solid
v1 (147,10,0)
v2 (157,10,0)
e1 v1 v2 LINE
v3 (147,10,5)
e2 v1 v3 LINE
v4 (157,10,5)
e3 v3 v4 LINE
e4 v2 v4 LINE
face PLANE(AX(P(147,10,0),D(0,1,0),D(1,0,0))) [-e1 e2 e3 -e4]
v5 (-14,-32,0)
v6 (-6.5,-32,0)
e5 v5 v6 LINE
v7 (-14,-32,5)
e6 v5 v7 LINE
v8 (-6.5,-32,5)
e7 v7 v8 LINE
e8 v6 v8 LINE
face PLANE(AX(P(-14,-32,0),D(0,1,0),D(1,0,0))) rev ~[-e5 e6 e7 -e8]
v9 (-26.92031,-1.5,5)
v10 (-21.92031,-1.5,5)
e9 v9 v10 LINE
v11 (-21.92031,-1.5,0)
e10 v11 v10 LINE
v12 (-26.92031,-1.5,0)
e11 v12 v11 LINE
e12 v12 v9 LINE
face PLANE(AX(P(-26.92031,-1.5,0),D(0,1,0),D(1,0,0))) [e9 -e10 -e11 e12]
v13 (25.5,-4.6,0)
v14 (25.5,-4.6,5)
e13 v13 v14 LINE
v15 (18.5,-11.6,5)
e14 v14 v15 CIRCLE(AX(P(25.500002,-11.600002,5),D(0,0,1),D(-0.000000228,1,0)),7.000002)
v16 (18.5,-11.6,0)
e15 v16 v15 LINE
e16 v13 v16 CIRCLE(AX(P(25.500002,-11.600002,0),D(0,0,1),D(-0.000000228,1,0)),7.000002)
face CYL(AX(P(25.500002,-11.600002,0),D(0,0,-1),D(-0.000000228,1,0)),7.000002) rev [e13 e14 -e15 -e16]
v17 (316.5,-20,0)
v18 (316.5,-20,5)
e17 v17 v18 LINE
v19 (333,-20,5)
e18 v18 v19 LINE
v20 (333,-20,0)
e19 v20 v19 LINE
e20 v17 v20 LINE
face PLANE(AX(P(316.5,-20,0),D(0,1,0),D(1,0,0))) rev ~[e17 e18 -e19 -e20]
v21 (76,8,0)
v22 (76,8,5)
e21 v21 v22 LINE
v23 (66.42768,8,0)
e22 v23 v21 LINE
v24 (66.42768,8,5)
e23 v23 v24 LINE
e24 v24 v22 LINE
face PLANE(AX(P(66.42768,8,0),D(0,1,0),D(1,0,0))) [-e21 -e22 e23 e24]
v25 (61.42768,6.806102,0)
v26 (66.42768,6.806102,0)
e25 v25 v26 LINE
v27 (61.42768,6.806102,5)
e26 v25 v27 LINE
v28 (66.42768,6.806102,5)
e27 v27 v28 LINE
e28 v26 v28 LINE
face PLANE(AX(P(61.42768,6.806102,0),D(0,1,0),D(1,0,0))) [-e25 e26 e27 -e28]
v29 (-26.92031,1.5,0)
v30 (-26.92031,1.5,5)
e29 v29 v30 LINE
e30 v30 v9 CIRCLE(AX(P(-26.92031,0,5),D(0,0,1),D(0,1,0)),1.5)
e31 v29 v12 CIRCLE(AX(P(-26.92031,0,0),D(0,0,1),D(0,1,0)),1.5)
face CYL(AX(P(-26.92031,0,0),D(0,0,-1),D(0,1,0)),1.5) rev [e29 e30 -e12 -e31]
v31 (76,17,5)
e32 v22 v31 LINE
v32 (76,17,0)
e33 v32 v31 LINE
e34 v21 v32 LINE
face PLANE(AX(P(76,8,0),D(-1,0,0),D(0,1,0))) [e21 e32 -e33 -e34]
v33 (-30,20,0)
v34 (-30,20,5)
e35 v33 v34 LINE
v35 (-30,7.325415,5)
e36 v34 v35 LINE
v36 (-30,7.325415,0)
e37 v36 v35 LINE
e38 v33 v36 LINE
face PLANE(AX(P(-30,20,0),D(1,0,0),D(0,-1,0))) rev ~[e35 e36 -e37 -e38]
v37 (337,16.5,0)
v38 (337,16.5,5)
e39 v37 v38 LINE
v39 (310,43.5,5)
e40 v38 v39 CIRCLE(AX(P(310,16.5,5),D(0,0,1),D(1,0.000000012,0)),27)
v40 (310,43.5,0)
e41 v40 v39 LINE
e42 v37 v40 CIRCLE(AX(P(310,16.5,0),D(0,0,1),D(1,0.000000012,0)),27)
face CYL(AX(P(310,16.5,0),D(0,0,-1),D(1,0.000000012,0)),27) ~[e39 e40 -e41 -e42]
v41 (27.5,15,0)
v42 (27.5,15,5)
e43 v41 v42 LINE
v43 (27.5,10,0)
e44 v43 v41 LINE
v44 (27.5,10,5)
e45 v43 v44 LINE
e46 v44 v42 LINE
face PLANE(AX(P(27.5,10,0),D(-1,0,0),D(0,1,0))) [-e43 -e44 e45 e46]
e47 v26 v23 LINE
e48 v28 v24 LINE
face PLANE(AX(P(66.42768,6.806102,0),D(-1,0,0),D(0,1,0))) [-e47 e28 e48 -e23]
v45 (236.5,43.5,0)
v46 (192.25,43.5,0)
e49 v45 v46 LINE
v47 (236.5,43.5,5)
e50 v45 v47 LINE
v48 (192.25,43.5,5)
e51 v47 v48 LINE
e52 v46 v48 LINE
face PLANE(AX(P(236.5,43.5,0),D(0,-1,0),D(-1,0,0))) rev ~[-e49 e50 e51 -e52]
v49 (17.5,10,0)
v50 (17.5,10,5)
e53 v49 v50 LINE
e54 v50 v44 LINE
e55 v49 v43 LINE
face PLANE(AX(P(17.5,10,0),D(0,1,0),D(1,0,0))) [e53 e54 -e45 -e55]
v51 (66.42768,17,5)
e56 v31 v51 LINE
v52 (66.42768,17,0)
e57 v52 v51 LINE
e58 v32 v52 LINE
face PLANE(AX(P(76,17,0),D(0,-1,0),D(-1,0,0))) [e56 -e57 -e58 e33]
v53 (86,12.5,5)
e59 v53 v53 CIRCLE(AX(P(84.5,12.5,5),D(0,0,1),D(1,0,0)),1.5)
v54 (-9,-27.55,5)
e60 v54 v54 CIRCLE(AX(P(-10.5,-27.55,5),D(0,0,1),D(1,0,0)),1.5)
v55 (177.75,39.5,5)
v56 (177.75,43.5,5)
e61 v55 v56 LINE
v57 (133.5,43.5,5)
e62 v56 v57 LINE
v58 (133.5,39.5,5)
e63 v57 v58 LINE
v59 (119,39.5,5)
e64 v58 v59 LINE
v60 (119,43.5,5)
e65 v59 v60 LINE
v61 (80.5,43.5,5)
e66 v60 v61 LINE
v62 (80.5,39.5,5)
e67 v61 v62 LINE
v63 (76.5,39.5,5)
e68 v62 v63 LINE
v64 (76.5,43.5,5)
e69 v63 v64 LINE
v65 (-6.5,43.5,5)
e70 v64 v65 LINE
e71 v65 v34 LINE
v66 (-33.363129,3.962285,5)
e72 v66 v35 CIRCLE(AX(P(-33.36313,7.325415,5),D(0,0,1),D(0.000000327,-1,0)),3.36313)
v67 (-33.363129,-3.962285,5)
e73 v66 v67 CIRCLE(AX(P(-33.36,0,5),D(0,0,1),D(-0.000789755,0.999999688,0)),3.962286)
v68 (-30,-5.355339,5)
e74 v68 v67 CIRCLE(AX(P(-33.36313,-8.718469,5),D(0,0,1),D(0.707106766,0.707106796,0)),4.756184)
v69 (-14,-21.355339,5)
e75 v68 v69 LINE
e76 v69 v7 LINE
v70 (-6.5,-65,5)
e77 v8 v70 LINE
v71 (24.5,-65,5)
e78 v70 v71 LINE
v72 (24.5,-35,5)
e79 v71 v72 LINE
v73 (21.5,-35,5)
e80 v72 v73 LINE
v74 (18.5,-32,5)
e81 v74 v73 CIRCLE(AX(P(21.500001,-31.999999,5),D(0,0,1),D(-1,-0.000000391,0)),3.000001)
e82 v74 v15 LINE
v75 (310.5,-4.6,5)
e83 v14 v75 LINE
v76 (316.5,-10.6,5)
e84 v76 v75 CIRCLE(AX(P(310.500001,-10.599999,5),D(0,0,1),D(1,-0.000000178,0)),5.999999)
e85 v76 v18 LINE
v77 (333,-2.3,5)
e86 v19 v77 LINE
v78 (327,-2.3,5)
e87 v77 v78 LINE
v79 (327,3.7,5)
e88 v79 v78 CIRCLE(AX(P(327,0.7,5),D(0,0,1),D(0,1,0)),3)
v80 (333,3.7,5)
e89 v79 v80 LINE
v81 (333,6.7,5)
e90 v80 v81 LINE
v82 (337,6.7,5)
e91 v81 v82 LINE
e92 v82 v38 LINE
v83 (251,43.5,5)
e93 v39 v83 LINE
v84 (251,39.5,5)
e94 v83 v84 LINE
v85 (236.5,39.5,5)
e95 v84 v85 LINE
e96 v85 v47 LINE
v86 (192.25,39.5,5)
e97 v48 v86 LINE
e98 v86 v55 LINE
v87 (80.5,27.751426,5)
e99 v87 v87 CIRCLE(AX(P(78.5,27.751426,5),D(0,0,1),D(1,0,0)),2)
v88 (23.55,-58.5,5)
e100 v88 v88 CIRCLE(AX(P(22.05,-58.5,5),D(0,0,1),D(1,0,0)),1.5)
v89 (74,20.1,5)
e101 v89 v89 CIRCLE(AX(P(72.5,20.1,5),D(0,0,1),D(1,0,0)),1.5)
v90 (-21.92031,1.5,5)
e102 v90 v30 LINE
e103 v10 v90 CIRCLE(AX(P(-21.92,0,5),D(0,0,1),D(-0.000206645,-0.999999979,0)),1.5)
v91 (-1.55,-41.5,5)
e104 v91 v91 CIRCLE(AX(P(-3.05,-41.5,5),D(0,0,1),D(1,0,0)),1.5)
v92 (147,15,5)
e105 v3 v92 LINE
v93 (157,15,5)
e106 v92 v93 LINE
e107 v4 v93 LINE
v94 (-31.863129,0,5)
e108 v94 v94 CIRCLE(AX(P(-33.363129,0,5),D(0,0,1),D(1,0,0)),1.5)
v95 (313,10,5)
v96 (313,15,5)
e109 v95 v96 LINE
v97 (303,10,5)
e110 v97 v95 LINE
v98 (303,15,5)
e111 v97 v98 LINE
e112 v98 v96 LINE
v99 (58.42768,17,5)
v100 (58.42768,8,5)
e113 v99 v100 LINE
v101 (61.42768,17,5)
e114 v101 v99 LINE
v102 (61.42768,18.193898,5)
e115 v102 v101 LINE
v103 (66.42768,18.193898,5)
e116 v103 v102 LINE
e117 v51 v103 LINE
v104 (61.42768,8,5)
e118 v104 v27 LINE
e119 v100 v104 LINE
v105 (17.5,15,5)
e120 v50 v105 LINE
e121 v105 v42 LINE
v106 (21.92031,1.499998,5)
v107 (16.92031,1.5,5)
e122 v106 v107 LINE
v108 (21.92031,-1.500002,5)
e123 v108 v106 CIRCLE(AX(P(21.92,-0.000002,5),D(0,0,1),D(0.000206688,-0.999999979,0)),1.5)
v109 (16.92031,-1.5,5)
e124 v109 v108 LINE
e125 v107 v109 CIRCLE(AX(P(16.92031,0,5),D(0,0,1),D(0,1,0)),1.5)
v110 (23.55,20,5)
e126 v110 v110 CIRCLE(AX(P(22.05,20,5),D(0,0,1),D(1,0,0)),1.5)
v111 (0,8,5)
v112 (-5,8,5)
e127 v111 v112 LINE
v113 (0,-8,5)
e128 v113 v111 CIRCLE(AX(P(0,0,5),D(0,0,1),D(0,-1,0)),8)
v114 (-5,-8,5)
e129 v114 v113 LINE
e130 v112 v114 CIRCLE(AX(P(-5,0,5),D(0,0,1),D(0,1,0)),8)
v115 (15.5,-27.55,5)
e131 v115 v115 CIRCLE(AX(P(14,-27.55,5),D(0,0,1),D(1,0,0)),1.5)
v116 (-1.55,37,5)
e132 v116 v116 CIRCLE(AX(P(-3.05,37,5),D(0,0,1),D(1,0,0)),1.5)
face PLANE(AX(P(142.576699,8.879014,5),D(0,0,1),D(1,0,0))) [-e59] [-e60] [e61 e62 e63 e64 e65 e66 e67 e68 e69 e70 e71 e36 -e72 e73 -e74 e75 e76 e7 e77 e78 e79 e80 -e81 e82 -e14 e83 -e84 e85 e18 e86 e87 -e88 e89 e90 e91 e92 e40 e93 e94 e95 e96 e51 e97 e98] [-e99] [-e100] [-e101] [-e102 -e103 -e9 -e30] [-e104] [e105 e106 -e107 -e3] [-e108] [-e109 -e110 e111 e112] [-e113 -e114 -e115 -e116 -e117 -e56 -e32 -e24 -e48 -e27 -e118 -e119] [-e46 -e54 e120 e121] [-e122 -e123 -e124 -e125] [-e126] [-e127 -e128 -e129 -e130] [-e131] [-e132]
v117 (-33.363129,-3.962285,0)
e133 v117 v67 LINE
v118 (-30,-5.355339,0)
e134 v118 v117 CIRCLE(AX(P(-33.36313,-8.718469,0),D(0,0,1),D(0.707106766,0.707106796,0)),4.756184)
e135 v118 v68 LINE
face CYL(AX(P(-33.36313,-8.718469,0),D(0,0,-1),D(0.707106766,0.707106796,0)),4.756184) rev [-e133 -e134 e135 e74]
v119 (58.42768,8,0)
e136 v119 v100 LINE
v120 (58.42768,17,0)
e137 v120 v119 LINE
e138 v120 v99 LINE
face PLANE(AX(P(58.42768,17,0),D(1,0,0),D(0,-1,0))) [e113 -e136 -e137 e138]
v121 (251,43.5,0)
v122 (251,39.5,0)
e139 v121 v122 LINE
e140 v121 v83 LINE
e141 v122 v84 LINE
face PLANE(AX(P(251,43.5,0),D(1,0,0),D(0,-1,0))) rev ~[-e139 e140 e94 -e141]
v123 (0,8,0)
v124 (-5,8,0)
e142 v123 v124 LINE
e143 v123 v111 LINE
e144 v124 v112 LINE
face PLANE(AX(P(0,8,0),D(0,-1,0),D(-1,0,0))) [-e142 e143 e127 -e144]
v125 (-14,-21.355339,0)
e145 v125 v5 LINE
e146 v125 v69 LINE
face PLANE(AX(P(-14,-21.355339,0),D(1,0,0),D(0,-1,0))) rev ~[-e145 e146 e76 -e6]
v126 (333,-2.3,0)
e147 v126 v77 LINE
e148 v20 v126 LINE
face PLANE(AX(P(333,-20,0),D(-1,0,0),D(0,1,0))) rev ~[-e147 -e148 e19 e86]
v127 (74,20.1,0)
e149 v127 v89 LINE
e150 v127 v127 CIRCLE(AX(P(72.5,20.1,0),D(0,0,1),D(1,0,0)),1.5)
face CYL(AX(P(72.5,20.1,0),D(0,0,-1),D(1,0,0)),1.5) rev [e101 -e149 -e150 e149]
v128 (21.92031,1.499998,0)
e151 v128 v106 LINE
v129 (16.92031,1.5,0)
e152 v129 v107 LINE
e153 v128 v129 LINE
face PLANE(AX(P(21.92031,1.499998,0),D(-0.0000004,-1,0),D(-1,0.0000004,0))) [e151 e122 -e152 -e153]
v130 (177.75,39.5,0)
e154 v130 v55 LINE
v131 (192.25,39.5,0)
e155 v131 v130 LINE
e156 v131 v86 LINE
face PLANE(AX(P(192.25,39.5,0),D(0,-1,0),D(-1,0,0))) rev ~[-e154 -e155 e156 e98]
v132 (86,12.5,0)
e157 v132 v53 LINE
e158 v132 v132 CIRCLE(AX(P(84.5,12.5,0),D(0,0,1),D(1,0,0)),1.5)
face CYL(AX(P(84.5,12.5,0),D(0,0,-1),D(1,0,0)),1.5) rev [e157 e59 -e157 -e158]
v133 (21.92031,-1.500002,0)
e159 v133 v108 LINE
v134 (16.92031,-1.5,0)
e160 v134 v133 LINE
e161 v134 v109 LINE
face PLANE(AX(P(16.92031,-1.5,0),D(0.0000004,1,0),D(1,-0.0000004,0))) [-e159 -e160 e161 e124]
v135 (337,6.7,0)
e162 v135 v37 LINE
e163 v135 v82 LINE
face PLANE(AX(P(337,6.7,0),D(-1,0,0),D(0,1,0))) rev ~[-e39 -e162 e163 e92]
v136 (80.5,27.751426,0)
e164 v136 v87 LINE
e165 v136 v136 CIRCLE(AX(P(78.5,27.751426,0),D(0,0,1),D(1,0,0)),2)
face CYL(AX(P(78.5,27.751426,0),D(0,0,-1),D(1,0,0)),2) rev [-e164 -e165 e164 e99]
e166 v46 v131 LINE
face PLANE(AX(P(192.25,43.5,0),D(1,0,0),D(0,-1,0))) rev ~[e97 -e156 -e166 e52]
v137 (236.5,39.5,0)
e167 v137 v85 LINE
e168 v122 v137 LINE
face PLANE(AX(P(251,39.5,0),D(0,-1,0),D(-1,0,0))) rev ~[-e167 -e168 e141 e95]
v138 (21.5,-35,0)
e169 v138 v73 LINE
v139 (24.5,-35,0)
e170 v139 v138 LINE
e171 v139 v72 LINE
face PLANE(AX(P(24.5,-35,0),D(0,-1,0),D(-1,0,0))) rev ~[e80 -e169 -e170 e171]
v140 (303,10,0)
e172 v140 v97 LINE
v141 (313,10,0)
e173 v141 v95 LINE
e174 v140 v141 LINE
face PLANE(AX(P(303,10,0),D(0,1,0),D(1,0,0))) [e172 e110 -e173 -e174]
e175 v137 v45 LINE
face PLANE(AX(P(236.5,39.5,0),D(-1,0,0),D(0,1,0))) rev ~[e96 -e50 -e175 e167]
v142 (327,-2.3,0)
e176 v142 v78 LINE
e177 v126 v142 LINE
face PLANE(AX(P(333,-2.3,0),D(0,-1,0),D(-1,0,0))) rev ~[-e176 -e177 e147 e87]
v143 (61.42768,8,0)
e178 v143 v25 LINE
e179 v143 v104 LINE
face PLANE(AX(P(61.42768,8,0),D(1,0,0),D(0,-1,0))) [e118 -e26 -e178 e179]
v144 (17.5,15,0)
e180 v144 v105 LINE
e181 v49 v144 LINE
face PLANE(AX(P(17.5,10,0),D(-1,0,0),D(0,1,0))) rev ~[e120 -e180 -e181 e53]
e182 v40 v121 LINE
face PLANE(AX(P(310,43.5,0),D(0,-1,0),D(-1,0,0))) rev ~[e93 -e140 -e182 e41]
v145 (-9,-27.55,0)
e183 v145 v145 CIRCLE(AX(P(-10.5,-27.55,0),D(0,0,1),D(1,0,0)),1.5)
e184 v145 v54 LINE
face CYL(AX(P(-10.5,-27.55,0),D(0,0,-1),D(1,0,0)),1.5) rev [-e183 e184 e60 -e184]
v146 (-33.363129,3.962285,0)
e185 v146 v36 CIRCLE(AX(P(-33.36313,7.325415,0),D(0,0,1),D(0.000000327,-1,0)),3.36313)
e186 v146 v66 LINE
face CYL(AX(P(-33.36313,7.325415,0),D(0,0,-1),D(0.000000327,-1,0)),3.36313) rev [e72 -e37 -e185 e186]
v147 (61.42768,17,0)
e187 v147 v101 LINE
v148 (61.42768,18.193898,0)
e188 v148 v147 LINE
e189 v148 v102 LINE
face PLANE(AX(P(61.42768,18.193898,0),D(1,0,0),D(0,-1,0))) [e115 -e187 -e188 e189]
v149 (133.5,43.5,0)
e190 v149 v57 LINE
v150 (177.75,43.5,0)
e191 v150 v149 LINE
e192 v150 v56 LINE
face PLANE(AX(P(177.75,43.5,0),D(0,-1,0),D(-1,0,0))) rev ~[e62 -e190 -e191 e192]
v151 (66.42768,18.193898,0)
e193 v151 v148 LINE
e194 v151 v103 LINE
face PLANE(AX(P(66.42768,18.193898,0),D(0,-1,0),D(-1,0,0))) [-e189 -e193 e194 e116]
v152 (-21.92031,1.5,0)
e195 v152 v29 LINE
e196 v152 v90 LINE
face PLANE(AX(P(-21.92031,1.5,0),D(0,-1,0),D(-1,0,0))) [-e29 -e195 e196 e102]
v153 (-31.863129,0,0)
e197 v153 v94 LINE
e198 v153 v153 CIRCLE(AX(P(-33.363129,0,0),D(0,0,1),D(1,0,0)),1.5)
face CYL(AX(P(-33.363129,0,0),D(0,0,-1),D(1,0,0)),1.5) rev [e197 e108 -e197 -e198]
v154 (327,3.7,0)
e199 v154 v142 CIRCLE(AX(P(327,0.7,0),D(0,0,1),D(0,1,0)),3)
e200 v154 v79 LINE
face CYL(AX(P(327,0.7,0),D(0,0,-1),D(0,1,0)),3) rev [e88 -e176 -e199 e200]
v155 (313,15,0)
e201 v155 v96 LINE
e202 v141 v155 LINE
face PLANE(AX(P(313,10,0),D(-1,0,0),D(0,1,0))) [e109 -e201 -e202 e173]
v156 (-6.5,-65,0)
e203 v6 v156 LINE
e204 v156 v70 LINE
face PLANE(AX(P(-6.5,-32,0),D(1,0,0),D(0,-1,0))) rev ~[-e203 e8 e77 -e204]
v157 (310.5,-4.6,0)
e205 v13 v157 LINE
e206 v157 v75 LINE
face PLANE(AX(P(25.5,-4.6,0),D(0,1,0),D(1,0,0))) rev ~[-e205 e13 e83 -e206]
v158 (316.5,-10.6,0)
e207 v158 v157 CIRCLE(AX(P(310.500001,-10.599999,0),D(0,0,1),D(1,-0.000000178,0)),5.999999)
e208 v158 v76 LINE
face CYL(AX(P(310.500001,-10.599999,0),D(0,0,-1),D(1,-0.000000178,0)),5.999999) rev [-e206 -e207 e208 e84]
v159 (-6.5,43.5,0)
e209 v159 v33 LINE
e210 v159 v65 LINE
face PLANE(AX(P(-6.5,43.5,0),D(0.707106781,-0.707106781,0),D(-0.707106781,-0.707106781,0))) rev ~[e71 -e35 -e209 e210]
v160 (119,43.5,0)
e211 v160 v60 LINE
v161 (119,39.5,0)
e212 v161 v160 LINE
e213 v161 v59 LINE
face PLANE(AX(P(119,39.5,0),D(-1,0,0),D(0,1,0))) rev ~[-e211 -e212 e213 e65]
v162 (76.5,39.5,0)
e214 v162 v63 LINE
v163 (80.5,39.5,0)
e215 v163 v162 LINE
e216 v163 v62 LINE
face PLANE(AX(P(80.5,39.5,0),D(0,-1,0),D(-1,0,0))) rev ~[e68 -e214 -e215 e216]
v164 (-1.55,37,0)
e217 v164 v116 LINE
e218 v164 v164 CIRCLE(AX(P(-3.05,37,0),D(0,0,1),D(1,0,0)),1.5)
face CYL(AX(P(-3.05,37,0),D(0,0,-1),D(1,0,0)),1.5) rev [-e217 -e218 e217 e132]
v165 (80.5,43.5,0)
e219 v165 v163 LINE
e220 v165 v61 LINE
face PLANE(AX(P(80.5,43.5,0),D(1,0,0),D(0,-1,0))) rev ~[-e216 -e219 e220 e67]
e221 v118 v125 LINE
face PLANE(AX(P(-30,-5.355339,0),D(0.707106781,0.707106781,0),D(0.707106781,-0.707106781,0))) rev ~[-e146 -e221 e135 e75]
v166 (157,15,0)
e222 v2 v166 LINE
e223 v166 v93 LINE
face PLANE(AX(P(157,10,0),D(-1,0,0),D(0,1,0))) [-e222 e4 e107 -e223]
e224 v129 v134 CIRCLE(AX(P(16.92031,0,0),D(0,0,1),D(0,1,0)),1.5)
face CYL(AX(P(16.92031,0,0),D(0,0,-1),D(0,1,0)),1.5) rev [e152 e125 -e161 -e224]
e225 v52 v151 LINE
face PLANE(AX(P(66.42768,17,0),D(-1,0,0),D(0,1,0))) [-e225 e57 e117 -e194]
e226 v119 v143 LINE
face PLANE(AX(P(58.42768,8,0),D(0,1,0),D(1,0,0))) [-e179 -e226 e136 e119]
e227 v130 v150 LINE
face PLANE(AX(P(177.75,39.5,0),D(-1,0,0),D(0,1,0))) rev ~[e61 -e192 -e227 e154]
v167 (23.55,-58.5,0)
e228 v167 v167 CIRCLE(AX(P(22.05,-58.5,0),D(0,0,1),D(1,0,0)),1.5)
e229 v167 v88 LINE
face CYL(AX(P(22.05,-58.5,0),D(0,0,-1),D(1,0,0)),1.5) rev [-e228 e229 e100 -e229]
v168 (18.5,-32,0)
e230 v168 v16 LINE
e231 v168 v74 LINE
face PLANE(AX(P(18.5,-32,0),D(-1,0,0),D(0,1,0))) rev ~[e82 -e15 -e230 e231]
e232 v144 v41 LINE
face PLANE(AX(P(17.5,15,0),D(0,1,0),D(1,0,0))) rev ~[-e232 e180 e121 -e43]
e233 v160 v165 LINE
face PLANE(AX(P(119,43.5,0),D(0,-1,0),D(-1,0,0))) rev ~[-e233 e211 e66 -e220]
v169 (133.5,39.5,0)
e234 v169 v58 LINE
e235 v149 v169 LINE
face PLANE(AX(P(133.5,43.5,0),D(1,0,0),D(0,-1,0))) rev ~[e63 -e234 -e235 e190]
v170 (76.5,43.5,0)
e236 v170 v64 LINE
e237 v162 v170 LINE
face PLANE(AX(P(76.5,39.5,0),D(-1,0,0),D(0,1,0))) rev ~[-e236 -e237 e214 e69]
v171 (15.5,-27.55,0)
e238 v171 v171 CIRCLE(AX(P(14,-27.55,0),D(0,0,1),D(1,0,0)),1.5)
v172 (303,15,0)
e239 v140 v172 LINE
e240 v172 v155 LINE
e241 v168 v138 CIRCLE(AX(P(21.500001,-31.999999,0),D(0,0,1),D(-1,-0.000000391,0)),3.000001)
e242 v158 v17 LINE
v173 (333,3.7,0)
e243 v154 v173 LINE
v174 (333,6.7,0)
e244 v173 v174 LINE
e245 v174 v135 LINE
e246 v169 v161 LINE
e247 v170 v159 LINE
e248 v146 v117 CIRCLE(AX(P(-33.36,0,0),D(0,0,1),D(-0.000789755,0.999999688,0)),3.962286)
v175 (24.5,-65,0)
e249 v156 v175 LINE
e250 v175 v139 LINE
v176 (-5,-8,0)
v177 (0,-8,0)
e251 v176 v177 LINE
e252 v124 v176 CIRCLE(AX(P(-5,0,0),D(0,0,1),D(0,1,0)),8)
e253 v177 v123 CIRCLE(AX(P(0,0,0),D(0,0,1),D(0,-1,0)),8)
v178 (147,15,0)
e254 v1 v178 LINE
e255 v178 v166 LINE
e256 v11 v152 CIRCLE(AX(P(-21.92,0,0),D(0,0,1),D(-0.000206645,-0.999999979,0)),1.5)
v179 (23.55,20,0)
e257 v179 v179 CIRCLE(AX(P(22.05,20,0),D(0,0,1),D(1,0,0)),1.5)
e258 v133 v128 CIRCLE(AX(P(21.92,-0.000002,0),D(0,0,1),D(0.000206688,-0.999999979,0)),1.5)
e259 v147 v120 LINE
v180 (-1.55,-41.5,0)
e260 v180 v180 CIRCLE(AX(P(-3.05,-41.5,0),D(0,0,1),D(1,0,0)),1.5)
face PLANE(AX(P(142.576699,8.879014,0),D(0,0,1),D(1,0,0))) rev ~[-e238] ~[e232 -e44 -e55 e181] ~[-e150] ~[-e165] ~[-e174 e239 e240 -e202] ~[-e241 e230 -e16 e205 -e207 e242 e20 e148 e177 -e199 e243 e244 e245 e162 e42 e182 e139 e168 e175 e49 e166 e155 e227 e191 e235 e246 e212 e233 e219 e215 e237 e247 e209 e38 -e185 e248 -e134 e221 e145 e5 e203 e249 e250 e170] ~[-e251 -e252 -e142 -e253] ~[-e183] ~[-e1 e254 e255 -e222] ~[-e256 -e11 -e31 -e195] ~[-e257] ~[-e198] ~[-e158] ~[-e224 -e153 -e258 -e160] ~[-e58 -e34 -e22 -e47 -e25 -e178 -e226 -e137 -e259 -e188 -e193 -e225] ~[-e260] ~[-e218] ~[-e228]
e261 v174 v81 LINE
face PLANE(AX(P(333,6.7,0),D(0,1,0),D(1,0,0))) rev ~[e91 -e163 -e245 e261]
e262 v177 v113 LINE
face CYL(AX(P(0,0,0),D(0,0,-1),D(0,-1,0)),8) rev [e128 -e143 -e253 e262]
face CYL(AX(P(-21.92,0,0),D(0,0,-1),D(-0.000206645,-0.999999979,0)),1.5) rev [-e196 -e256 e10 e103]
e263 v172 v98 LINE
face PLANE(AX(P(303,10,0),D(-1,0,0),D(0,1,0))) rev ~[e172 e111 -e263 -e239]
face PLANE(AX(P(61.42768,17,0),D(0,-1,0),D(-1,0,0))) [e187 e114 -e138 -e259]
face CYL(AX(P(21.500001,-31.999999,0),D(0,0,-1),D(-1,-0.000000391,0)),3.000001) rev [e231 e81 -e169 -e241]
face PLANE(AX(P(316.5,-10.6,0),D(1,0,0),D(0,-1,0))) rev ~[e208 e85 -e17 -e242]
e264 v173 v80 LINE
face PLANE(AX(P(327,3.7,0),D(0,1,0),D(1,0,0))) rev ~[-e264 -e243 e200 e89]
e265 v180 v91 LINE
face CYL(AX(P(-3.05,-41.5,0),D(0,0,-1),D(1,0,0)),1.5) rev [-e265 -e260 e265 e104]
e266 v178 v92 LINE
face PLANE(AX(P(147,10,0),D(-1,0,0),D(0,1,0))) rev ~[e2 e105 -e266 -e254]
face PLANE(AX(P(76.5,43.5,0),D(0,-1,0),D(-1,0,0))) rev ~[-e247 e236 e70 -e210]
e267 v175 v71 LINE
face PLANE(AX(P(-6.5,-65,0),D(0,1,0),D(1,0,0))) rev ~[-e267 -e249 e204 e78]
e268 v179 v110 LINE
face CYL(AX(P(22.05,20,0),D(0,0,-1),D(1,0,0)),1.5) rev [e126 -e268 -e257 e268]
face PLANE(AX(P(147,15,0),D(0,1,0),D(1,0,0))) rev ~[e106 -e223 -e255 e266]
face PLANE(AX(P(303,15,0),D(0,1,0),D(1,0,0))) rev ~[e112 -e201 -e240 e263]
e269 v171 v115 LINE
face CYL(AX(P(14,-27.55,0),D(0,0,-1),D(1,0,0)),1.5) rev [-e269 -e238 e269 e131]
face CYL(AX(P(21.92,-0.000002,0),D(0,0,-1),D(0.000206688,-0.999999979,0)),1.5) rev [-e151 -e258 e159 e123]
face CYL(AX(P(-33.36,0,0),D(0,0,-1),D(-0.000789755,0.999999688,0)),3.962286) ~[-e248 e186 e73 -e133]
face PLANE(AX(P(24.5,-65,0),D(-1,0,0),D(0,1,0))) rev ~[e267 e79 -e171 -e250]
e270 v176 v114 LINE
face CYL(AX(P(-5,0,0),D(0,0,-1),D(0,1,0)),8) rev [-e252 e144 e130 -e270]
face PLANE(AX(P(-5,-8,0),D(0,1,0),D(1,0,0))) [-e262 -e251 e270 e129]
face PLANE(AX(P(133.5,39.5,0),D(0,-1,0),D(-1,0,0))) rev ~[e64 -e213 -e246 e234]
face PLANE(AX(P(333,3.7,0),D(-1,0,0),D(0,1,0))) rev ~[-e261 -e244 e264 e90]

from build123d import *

# Parameters (mm, degrees)
SKETCH090_R   = 2
SKETCH090_R_2 = 1.5
SKETCH090_W   = 10
SKETCH090_H   = 5
PAD_DEPTH     = 5


with BuildPart() as part:
    # Sketch090 → Pad (new body)
    with BuildSketch(Plane.XY):
        with BuildLine():
            Line((24.5, -35), (21.5, -35))
            ThreePointArc((18.5, -32), (19.37868, -34.12132), (21.5, -35))
            Line((18.5, -32), (18.5, -11.6))
            ThreePointArc((25.5, -4.6), (20.550253, -6.650253), (18.5, -11.6))
            Line((25.5, -4.6), (310.5, -4.6))
            ThreePointArc((316.5, -10.6), (314.742641, -6.357359), (310.5, -4.6))
            Line((316.5, -10.6), (316.5, -20))
            Line((316.5, -20), (333, -20))
            Line((333, -20), (333, -2.3))
            Line((333, -2.3), (327, -2.3))
            ThreePointArc((327, 3.7), (324, 0.7), (327, -2.3))
            Line((327, 3.7), (333, 3.7))
            Line((333, 3.7), (333, 6.7))
            Line((333, 6.7), (337, 6.7))
            Line((337, 6.7), (337, 16.5))
            ThreePointArc((337, 16.5), (329.091883, 35.591883), (310, 43.5))
            Line((310, 43.5), (251, 43.5))
            Line((251, 43.5), (251, 39.5))
            Line((251, 39.5), (236.5, 39.5))
            Line((236.5, 39.5), (236.5, 43.5))
            Line((236.5, 43.5), (192.25, 43.5))
            Line((192.25, 43.5), (192.25, 39.5))
            Line((192.25, 39.5), (177.75, 39.5))
            Line((177.75, 39.5), (177.75, 43.5))
            Line((177.75, 43.5), (133.5, 43.5))
            Line((133.5, 43.5), (133.5, 39.5))
            Line((133.5, 39.5), (119, 39.5))
            Line((119, 39.5), (119, 43.5))
            Line((119, 43.5), (80.5, 43.5))
            Line((80.5, 43.5), (80.5, 39.5))
            Line((80.5, 39.5), (76.5, 39.5))
            Line((76.5, 39.5), (76.5, 43.5))
            Line((76.5, 43.5), (-6.5, 43.5))
            Line((-6.5, 43.5), (-30, 20))
            Line((-30, 20), (-30, 7.325415))
            ThreePointArc((-33.363129, 3.962285), (-30.985038, 4.947323), (-30, 7.325415))
            ThreePointArc((-33.363129, 3.962285), (-37.322286, 0), (-33.363129, -3.962285))
            ThreePointArc((-30, -5.355339), (-31.543017, -4.324328), (-33.363129, -3.962285))
            Line((-30, -5.355339), (-14, -21.355339))
            Line((-14, -21.355339), (-14, -32))
            Line((-14, -32), (-6.5, -32))
            Line((-6.5, -32), (-6.5, -65))
            Line((-6.5, -65), (24.5, -65))
            Line((24.5, -65), (24.5, -35))
        make_face()
        with Locations((78.5, 27.751426)):
            Circle(SKETCH090_R, mode=Mode.SUBTRACT)
        with Locations((-3.05, -41.5)):
            Circle(SKETCH090_R_2, mode=Mode.SUBTRACT)
        with Locations((84.5, 12.5)):
            Circle(SKETCH090_R_2, mode=Mode.SUBTRACT)
        with Locations((22.05, -58.5)):
            Circle(SKETCH090_R_2, mode=Mode.SUBTRACT)
        with Locations((72.5, 20.1)):
            Circle(SKETCH090_R_2, mode=Mode.SUBTRACT)
        with Locations((-33.363129, 0)):
            Circle(SKETCH090_R_2, mode=Mode.SUBTRACT)
        with Locations((-10.5, -27.55)):
            Circle(SKETCH090_R_2, mode=Mode.SUBTRACT)
        with Locations((14, -27.55)):
            Circle(SKETCH090_R_2, mode=Mode.SUBTRACT)
        with Locations((-3.05, 37)):
            Circle(SKETCH090_R_2, mode=Mode.SUBTRACT)
        with Locations((22.05, 20)):
            Circle(SKETCH090_R_2, mode=Mode.SUBTRACT)
        Polygon((66.42768, 17), (66.42768, 18.193898), (61.42768, 18.193898), (61.42768, 17), (58.42768, 17), (58.42768, 8), (61.42768, 8), (61.42768, 6.806102), (66.42768, 6.806102), (66.42768, 8), (76, 8), (76, 17), align=None, mode=Mode.SUBTRACT)
        with BuildLine():
            ThreePointArc((21.92031, -1.500002), (23.42, -2e-06), (21.92031, 1.499998))
            Line((21.92031, 1.499998), (16.92031, 1.5))
            ThreePointArc((16.92031, 1.5), (15.42031, 0), (16.92031, -1.5))
            Line((16.92031, -1.5), (21.92031, -1.500002))
        make_face(mode=Mode.SUBTRACT)
        with BuildLine():
            Line((-21.92031, 1.5), (-26.92031, 1.5))
            ThreePointArc((-26.92031, 1.5), (-28.42031, 0), (-26.92031, -1.5))
            Line((-26.92031, -1.5), (-21.92031, -1.5))
            ThreePointArc((-21.92031, -1.5), (-20.42, 0), (-21.92031, 1.5))
        make_face(mode=Mode.SUBTRACT)
        with Locations((152, 12.5)):
            Rectangle(SKETCH090_W, SKETCH090_H, mode=Mode.SUBTRACT)
        with Locations((308, 12.5)):
            Rectangle(SKETCH090_W, SKETCH090_H, mode=Mode.SUBTRACT)
        with BuildLine():
            Line((-5, -8), (0, -8))
            ThreePointArc((0, -8), (8, 0), (0, 8))
            Line((0, 8), (-5, 8))
            ThreePointArc((-5, 8), (-13, 0), (-5, -8))
        make_face(mode=Mode.SUBTRACT)
        with Locations((22.5, 12.5)):
            Rectangle(SKETCH090_W, SKETCH090_H, mode=Mode.SUBTRACT)
    extrude(amount=PAD_DEPTH)


solid = part.part
